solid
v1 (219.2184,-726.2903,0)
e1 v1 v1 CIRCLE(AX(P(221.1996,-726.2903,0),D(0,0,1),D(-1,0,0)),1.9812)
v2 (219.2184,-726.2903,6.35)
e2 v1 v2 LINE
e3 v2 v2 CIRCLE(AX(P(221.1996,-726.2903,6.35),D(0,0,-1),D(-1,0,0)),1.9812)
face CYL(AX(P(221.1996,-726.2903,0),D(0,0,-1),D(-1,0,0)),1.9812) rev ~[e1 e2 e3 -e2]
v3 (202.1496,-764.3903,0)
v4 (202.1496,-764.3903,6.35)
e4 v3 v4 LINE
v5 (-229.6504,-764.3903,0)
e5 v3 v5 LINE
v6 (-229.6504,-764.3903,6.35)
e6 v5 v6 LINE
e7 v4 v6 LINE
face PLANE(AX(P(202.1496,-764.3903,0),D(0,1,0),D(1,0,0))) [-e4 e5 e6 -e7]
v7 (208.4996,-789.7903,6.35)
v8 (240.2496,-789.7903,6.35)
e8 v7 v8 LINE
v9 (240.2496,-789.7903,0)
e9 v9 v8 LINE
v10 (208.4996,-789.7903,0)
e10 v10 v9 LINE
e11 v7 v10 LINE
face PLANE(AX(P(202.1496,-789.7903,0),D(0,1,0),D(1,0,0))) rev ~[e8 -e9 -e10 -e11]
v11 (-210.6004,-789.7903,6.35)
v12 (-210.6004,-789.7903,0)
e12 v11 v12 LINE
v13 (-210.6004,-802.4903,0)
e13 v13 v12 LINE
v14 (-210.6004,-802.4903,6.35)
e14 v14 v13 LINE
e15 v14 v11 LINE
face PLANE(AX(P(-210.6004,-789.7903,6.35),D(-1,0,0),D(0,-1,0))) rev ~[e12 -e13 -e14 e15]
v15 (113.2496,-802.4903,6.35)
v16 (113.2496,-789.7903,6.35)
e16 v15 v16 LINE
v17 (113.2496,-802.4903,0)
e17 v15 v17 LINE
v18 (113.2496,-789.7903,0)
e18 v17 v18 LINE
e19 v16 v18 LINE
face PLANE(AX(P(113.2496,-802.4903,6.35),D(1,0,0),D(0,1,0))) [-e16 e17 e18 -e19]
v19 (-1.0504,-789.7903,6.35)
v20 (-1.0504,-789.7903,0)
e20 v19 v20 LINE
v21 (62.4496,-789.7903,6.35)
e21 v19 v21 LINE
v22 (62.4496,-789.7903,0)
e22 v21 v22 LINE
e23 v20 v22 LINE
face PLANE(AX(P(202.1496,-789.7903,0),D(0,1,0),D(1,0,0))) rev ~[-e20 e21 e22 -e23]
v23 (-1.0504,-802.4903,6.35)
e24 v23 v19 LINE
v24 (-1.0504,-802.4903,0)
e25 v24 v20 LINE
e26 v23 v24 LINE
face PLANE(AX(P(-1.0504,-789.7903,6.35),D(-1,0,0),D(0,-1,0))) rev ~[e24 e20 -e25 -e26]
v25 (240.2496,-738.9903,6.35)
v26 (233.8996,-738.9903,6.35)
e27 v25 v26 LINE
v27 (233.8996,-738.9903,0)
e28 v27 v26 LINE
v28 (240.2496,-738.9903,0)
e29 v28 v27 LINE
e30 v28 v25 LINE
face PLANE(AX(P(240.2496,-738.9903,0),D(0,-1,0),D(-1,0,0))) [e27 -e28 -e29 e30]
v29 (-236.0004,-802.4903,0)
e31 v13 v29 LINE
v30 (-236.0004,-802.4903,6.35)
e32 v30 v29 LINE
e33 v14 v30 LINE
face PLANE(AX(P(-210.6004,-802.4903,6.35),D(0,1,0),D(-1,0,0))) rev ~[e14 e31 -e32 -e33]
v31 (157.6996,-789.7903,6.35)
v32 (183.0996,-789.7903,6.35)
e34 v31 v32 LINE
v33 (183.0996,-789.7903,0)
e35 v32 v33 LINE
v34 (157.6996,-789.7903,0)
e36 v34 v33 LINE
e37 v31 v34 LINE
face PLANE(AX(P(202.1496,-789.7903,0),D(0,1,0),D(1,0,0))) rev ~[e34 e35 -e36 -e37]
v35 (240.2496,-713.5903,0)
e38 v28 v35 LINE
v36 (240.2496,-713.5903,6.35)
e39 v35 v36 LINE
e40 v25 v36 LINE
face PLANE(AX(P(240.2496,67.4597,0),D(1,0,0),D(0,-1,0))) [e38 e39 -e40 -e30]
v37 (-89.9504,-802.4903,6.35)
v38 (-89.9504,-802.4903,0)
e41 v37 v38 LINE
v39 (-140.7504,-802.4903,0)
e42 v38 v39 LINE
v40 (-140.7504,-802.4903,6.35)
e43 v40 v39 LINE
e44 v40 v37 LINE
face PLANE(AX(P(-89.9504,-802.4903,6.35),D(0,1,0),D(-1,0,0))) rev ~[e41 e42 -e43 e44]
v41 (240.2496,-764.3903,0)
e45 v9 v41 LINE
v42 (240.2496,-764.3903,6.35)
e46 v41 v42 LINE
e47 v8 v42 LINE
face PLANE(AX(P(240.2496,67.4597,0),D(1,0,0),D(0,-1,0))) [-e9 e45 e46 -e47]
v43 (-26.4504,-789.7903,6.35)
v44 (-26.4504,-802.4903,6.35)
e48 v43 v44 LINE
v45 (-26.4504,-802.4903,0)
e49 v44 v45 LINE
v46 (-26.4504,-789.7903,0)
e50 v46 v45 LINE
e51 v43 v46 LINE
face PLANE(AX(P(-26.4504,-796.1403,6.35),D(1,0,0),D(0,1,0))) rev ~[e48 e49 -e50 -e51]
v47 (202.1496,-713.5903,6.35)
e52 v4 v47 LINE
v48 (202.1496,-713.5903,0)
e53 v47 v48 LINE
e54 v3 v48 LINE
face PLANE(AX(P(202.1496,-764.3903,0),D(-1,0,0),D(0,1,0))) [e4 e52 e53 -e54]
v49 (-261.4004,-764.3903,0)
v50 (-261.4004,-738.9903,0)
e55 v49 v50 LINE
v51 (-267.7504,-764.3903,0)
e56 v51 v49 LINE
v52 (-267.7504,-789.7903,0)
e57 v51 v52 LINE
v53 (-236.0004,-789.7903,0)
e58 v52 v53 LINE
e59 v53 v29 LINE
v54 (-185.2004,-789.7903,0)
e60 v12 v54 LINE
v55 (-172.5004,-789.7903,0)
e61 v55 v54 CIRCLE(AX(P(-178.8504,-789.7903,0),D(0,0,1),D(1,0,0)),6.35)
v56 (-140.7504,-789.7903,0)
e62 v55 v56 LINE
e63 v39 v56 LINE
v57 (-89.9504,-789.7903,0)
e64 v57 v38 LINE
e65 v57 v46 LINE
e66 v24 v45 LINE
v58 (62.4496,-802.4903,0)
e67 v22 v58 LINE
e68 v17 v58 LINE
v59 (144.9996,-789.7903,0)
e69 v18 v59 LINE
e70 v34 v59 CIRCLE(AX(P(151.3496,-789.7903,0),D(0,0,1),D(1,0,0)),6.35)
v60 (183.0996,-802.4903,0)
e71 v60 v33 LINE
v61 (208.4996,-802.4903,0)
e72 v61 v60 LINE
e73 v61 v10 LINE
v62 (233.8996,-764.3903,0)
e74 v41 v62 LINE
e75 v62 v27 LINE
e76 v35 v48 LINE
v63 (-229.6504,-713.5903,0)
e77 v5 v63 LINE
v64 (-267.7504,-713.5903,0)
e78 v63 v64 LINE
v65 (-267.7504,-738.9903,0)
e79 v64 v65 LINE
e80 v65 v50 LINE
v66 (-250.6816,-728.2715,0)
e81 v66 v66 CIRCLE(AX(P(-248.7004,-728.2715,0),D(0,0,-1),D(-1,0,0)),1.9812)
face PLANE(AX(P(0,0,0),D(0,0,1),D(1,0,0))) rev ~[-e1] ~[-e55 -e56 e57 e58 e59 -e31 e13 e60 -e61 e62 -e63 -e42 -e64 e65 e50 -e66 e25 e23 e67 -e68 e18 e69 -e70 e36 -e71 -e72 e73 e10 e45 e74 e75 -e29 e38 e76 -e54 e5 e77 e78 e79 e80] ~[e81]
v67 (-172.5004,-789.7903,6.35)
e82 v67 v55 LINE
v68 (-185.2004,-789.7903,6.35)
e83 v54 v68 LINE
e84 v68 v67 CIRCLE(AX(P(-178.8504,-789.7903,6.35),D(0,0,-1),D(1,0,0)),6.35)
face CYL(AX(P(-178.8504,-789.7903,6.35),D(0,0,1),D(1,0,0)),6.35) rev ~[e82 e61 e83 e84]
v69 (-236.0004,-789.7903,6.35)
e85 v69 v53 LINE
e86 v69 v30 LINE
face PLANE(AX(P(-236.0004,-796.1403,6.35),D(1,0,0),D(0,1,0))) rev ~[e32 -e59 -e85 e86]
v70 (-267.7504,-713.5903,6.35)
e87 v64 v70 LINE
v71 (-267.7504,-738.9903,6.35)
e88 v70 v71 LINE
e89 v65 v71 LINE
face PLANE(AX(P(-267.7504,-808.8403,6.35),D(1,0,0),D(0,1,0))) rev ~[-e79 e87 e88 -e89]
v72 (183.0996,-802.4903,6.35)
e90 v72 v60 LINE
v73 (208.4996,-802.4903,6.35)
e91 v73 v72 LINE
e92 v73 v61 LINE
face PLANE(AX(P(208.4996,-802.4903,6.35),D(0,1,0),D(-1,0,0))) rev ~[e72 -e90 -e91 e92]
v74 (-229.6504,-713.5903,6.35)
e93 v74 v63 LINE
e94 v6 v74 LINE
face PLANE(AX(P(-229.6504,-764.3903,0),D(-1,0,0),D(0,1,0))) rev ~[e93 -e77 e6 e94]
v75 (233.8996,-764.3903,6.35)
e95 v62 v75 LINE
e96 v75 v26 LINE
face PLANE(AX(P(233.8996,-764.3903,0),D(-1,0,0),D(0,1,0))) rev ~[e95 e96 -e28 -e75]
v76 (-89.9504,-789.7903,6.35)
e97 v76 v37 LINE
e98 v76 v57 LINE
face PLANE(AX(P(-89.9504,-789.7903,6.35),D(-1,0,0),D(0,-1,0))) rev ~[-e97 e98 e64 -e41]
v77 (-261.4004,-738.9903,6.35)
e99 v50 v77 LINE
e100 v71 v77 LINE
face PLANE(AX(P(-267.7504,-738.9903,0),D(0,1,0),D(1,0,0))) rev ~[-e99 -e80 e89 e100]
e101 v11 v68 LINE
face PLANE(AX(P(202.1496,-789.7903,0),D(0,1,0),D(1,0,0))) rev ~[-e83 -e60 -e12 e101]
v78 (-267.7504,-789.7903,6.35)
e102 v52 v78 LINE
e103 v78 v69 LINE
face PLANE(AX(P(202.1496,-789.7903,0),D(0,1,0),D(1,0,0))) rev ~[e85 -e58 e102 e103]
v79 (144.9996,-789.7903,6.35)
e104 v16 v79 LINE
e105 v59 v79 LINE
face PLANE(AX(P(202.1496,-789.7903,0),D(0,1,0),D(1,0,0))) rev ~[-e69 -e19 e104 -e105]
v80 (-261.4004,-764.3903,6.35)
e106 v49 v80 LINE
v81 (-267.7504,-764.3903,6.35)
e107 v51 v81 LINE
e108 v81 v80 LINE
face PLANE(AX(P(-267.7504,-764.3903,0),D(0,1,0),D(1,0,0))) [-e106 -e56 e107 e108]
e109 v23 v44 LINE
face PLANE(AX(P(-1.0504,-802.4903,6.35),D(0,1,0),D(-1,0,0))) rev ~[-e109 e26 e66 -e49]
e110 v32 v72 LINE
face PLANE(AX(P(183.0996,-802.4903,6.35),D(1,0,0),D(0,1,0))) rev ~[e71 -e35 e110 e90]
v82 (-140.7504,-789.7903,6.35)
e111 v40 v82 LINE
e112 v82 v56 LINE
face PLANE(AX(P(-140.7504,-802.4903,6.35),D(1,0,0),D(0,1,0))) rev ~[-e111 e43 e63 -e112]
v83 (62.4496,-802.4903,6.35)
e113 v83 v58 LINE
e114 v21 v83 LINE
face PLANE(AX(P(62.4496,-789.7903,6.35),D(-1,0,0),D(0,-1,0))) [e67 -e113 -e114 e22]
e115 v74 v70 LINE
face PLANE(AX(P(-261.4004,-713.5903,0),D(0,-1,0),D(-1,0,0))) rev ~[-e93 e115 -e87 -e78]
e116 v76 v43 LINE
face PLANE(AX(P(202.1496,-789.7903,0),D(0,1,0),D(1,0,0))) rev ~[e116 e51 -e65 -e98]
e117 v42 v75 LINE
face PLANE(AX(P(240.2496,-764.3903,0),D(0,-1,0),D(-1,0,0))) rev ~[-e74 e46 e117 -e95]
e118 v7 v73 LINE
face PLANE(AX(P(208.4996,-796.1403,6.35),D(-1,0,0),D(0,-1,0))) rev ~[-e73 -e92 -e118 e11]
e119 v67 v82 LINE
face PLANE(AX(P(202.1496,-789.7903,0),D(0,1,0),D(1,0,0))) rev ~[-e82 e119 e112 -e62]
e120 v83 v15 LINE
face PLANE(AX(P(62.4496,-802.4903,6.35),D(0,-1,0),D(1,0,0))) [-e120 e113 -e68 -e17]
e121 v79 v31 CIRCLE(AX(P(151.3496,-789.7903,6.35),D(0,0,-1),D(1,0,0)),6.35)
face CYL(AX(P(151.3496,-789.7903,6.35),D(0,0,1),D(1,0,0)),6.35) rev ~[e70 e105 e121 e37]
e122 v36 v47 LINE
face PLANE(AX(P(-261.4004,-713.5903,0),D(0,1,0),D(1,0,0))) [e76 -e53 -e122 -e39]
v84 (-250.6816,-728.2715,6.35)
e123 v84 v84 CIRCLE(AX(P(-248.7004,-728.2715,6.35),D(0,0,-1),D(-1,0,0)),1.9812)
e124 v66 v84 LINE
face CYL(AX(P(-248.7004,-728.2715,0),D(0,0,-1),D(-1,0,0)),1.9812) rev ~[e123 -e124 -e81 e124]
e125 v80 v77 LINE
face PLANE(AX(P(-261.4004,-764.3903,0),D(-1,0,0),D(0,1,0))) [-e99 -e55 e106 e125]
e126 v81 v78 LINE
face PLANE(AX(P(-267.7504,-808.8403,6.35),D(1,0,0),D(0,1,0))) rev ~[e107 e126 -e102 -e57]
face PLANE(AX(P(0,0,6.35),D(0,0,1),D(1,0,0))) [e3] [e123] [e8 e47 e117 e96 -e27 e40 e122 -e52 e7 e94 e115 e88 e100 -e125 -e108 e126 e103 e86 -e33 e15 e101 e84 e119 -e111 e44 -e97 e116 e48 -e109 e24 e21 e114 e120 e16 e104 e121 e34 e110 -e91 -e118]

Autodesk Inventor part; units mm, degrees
ref_plane "YZ Plane" through (0, 0, 0) normal (1, 0, 0) x (0, 1, 0)
ref_plane "XZ Plane" through (0, 0, 0) normal (0, 1, 0) x (-1, 0, 0)
ref_plane "XY Plane" through (0, 0, 0) normal (0, 0, 1) x (1, 0, 0)
sketch "Sketch1" plane through (0, 0, 0) normal (0, 0, 1) x (1, 0, 0)
  line L0 (-267.7504, 67.4597) -> (240.2496, 67.4597)
  line L1 (240.2496, 67.4597) -> (240.2496, -986.6403)
  line L2 (240.2496, -986.6403) -> (-267.7504, -986.6403)
  line L3 (-267.7504, -986.6403) -> (-267.7504, 67.4597)
  point P0 (0, 0)
  dimension "d0" = 508
  dimension "d1" = 1054.1
extrude "Extrusion1" add sketch "Sketch1" along normal blind 6.35
sketch "Sketch2" plane through (0, 0, 6.35) normal (0, 0, 1) x (1, 0, 0)
  line L0 (240.2496, -986.6403) -> (-267.7504, -986.6403) projected
  line L1 (-267.7504, -986.6403) -> (-13.7504, -986.6403)
  line L2 (-13.7504, -986.6403) -> (-13.7504, -980.2903)
  line L3 (-13.7504, -980.2903) -> (1.4896, -980.2903)
  line L4 (1.4896, -980.2903) -> (-28.9904, -980.2903)
  line L5 (-28.9904, -980.2903) -> (1.4896, -980.2903)
  line L6 (1.4896, -980.2903) -> (1.4896, -973.9403)
  line L7 (1.4896, -973.9403) -> (-28.9904, -973.9403)
  line L8 (-28.9904, -973.9403) -> (-28.9904, -980.2903)
  point P0 (0, 0)
  dimension "d4" = 254
  dimension "d5" = 6.35
  dimension "d6" = 15.24
  dimension "d7" = 30.48
  dimension "d8" = 6.35
extrude "Extrusion2" cut sketch "Sketch2" against normal blind 104.14
sketch "Sketch3" plane through (0, 0, 6.35) normal (0, 0, 1) x (1, 0, 0)
  line L0 (240.2496, -986.6403) -> (-267.7504, -986.6403) projected
  line L1 (1.4896, -980.2903) -> (14.1896, -980.2903)
  line L2 (-28.9904, -980.2903) -> (-41.6904, -980.2903)
  line L3 (-41.6904, -980.2903) -> (-67.0904, -980.2903)
  line L4 (-67.0904, -980.2903) -> (-67.0904, -973.9403)
  line L5 (-67.0904, -973.9403) -> (-41.6904, -973.9403)
  line L6 (-41.6904, -973.9403) -> (-41.6904, -980.2903)
  line L7 (14.1896, -980.2903) -> (39.5896, -980.2903)
  line L8 (39.5896, -980.2903) -> (39.5896, -973.9403)
  line L9 (39.5896, -973.9403) -> (14.1896, -973.9403)
  line L10 (14.1896, -973.9403) -> (14.1896, -980.2903)
  point P0 (0, 0)
  dimension "d11" = 12.7
  dimension "d12" = 12.7
  dimension "d13" = 25.4
  dimension "d14" = 25.4
extrude "Extrusion3" cut sketch "Sketch3" against normal blind 104.14
sketch "Sketch4" plane through (0, 0, 6.35) normal (0, 0, 1) x (1, 0, 0)
  line L0 (-67.0904, -973.9403) -> (-41.6904, -973.9403) projected
  line L1 (14.1896, -973.9403) -> (39.5896, -973.9403) projected
  line L2 (-28.9904, -973.9403) -> (1.4896, -973.9403) projected
  line L3 (240.2496, 67.4597) -> (240.2496, -986.6403) projected
  line L4 (-267.7504, -986.6403) -> (-267.7504, 67.4597) projected
  line L5 (240.2496, -986.6403) -> (-267.7504, -986.6403) projected
  line L6 (-67.0904, -980.2903) -> (-92.4904, -980.2903)
  line L7 (-92.4904, -980.2903) -> (-117.8904, -980.2903)
  line L8 (-117.8904, -980.2903) -> (-117.8904, -986.6403)
  line L9 (39.5896, -980.2903) -> (64.9896, -980.2903)
  line L10 (64.9896, -980.2903) -> (90.3896, -980.2903)
  line L11 (90.3896, -980.2903) -> (90.3896, -986.6403)
  line L12 (-41.6904, -973.9403) -> (-28.9904, -973.9403)
  line L13 (1.4896, -973.9403) -> (14.1896, -973.9403)
  line L14 (-67.0904, -973.9403) -> (-79.7904, -973.9403)
  line L15 (39.5896, -973.9403) -> (52.2896, -973.9403)
  line L16 (-79.7904, -973.9403) -> (-79.7904, -802.4903)
  line L17 (52.2896, -973.9403) -> (52.2896, -802.4903)
  line L18 (52.2896, -802.4903) -> (-79.7904, -802.4903)
  line L19 (-79.7904, -802.4903) -> (-105.1904, -802.4903)
  line L20 (-105.1904, -802.4903) -> (-105.1904, -815.1903)
  line L21 (-105.1904, -815.1903) -> (-92.4904, -815.1903)
  line L22 (-92.4904, -815.1903) -> (-92.4904, -980.2903)
  line L23 (64.9896, -980.2903) -> (64.9896, -815.1903)
  line L24 (64.9896, -815.1903) -> (77.6896, -815.1903)
  line L25 (77.6896, -815.1903) -> (77.6896, -802.4903)
  line L26 (77.6896, -802.4903) -> (52.2896, -802.4903)
  line L27 (-105.1904, -802.4903) -> (-267.7504, -802.4903)
  line L28 (77.6896, -802.4903) -> (240.2496, -802.4903)
  point P0 (0, 0)
  dimension "d17" = 25.4
  dimension "d18" = 25.4
  dimension "d19" = 25.4
  dimension "d20" = 25.4
  dimension "d21" = 171.45
  dimension "d22" = 25.4
  dimension "d23" = 12.7
extrude "Extrusion4" cut sketch "Sketch4" against normal blind 104.14 contours L14 L16 L18 L17 L15 L1 L13 L2 L12 L0 | L20 L21 L22 L7 L8 L5 L4 L27 | L28 L3 L5 L11 L10 L23 L24 L25
sketch "Sketch5" plane through (0, 0, 6.35) normal (0, 0, 1) x (1, 0, 0)
  line L0 (-92.4904, -815.1903) -> (-92.4904, -980.2903) projected
  line L1 (64.9896, -980.2903) -> (64.9896, -815.1903) projected
  line L2 (-92.4904, -973.9403) -> (-92.4904, -967.5903)
  line L3 (-92.4904, -967.5903) -> (-105.1904, -967.5903)
  line L4 (-105.1904, -967.5903) -> (-105.1904, -954.8903)
  line L5 (-105.1904, -954.8903) -> (-92.4904, -954.8903)
  line L6 (64.9896, -954.8903) -> (77.6896, -954.8903)
  line L7 (77.6896, -954.8903) -> (77.6896, -967.5903)
  line L8 (77.6896, -967.5903) -> (64.9896, -967.5903)
  point P0 (0, 0)
  dimension "d26" = 6.35
  dimension "d27" = 12.7
extrude "Extrusion5" add sketch "Sketch5" against normal blind 6.35
sketch "Sketch6" plane through (0, 0, 6.35) normal (0, 0, 1) x (1, 0, 0)
  line L0 (-79.7904, -802.4903) -> (52.2896, -802.4903) projected
  line L1 (-267.7504, -802.4903) -> (-105.1904, -802.4903) projected
  line L2 (77.6896, -802.4903) -> (240.2496, -802.4903) projected
  line L3 (-267.7504, -802.4903) -> (-242.3504, -802.4903)
  line L4 (-242.3504, -802.4903) -> (-216.9504, -802.4903)
  line L5 (-216.9504, -802.4903) -> (-140.7504, -802.4903)
  line L6 (-140.7504, -802.4903) -> (-115.3504, -802.4903)
  line L7 (-115.3504, -802.4903) -> (-39.1504, -802.4903)
  line L8 (-39.1504, -802.4903) -> (-13.7504, -802.4903)
  line L9 (-13.7504, -802.4903) -> (62.4496, -802.4903)
  line L10 (62.4496, -802.4903) -> (87.8496, -802.4903)
  line L11 (87.8496, -802.4903) -> (164.0496, -802.4903)
  line L12 (164.0496, -802.4903) -> (189.4496, -802.4903)
  line L13 (189.4496, -802.4903) -> (265.6496, -802.4903)
  line L14 (265.6496, -802.4903) -> (240.2496, -802.4903)
  line L15 (-242.3504, -802.4903) -> (-216.9504, -802.4903)
  line L16 (-216.9504, -802.4903) -> (-216.9504, -796.1403)
  line L17 (-216.9504, -796.1403) -> (-242.3504, -796.1403)
  line L18 (-242.3504, -796.1403) -> (-242.3504, -802.4903)
  line L19 (-140.7504, -802.4903) -> (-115.3504, -802.4903)
  line L20 (-115.3504, -802.4903) -> (-115.3504, -796.1403)
  line L21 (-115.3504, -796.1403) -> (-140.7504, -796.1403)
  line L22 (-140.7504, -796.1403) -> (-140.7504, -802.4903)
  line L23 (-39.1504, -802.4903) -> (-13.7504, -802.4903)
  line L24 (-13.7504, -802.4903) -> (-13.7504, -796.1403)
  line L25 (-13.7504, -796.1403) -> (-39.1504, -796.1403)
  line L26 (-39.1504, -796.1403) -> (-39.1504, -802.4903)
  line L27 (62.4496, -802.4903) -> (87.8496, -802.4903)
  line L28 (87.8496, -802.4903) -> (87.8496, -796.1403)
  line L29 (87.8496, -796.1403) -> (62.4496, -796.1403)
  line L30 (62.4496, -796.1403) -> (62.4496, -802.4903)
  line L31 (164.0496, -802.4903) -> (189.4496, -802.4903)
  line L32 (189.4496, -802.4903) -> (189.4496, -796.1403)
  line L33 (189.4496, -796.1403) -> (164.0496, -796.1403)
  line L34 (164.0496, -796.1403) -> (164.0496, -802.4903)
  point P0 (0, 0)
  dimension "d30" = 25.4
  dimension "d31" = 25.4
  dimension "d32" = 76.2
  dimension "d33" = 25.4
  dimension "d34" = 76.2
  dimension "d35" = 25.4
  dimension "d36" = 76.2
  dimension "d37" = 25.4
  dimension "d38" = 76.2
  dimension "d39" = 25.4
  dimension "d40" = 76.2
  dimension "d41" = 25.4
  dimension "d42" = 6.35
extrude "Extrusion6" cut sketch "Sketch6" against normal blind 25.4
sketch "Sketch7" plane through (0, 0, 6.35) normal (0, 0, 1) x (1, 0, 0)
  line L0 (-267.7504, -802.4903) -> (240.2496, -802.4903)
  line L1 (240.2496, -802.4903) -> (240.2496, -808.8403)
  line L2 (240.2496, -808.8403) -> (-267.7504, -808.8403)
  line L3 (-267.7504, -808.8403) -> (-267.7504, -802.4903)
  point P0 (0, 0)
extrude "Extrusion7" add sketch "Sketch7" against normal blind 6.35
sketch "Sketch8" plane through (0, 0, 6.35) normal (0, 0, 1) x (1, 0, 0)
  line L0 (-216.9504, -796.1403) -> (-191.5504, -796.1403)
  line L1 (-191.5504, -796.1403) -> (-191.5504, -789.7903)
  line L2 (-191.5504, -789.7903) -> (-216.9504, -789.7903)
  line L3 (-216.9504, -789.7903) -> (-216.9504, -796.1403)
  line L4 (-115.3504, -796.1403) -> (-89.9504, -796.1403)
  line L5 (-89.9504, -796.1403) -> (-89.9504, -789.7903)
  line L6 (-89.9504, -789.7903) -> (-115.3504, -789.7903)
  line L7 (-115.3504, -789.7903) -> (-115.3504, -796.1403)
  line L8 (-13.7504, -796.1403) -> (11.6496, -796.1403)
  line L9 (11.6496, -796.1403) -> (11.6496, -789.7903)
  line L10 (11.6496, -789.7903) -> (-13.7504, -789.7903)
  line L11 (-13.7504, -789.7903) -> (-13.7504, -796.1403)
  line L12 (87.8496, -796.1403) -> (113.2496, -796.1403)
  line L13 (113.2496, -796.1403) -> (113.2496, -789.7903)
  line L14 (113.2496, -789.7903) -> (87.8496, -789.7903)
  line L15 (87.8496, -789.7903) -> (87.8496, -796.1403)
  line L16 (189.4496, -796.1403) -> (214.8496, -796.1403)
  line L17 (214.8496, -796.1403) -> (214.8496, -789.7903)
  line L18 (214.8496, -789.7903) -> (189.4496, -789.7903)
  line L19 (189.4496, -789.7903) -> (189.4496, -796.1403)
  point P0 (0, 0)
  dimension "d47" = 25.4
  dimension "d48" = 6.35
  dimension "d49" = 25.4
  dimension "d50" = 25.4
  dimension "d51" = 25.4
  dimension "d52" = 25.4
extrude "Extrusion8" cut sketch "Sketch8" against normal blind 6.35
sketch "Sketch9" plane through (0, 0, 6.35) normal (0, 0, 1) x (1, 0, 0)
  circle A0 centre (-98.8404, -808.8403) radius 1.9812
  circle A1 centre (-98.8404, -961.2403) radius 1.9812
  circle A2 centre (71.3396, -961.2403) radius 1.9812
  circle A3 centre (71.3396, -808.8403) radius 1.9812
  point P0 (0, 0)
  dimension "d55" = 3.9624
  dimension "d56" = 3.9624
  dimension "d57" = 3.9624
  dimension "d58" = 3.9624
extrude "Extrusion9" cut sketch "Sketch9" against normal blind 6.35
sketch "Sketch10" plane through (0, 0, 0) normal (0, 0, -1) x (-1, 0, 0)
  line L0 (-77.6896, -815.1903) -> (-64.9896, -815.1903) projected
  line L1 (-64.9896, -815.1903) -> (-64.9896, -954.8903) projected
  line L2 (-77.6896, -954.8903) -> (-64.9896, -954.8903) projected
  line L3 (-64.9896, -967.5903) -> (-77.6896, -967.5903) projected
  line L4 (-64.9896, -967.5903) -> (-64.9896, -980.2903) projected
  line L5 (92.4904, -980.2903) -> (92.4904, -967.5903) projected
  line L6 (105.1904, -967.5903) -> (92.4904, -967.5903) projected
  line L7 (92.4904, -954.8903) -> (105.1904, -954.8903) projected
  line L8 (92.4904, -954.8903) -> (92.4904, -815.1903) projected
  line L9 (92.4904, -815.1903) -> (105.1904, -815.1903) projected
  line L10 (-77.6896, -808.8403) -> (-240.2496, -808.8403) projected
  line L11 (-77.6896, -815.1903) -> (-77.6896, -954.8903)
  line L12 (105.1904, -954.8903) -> (105.1904, -815.1903)
  line L13 (105.1904, -967.5903) -> (105.1904, -973.9403)
  line L14 (105.1904, -973.9403) -> (92.4904, -973.9403)
  line L15 (-77.6896, -967.5903) -> (-77.6896, -973.9403)
  line L16 (-77.6896, -973.9403) -> (-64.9896, -973.9403)
  point P0 (0, 0)
extrude "Extrusion10" add sketch "Sketch10" against normal blind 6.35
sketch "Sketch11" plane through (0, 0, 0) normal (0, 0, -1) x (-1, 0, 0)
  line L0 (79.7904, -808.8403) -> (79.7904, -973.9403) projected
  line L1 (79.7904, -973.9403) -> (67.0904, -973.9403) projected
  line L2 (-39.5896, -973.9403) -> (-52.2896, -973.9403) projected
  line L3 (-52.2896, -973.9403) -> (-52.2896, -808.8403) projected
  line L4 (-39.5896, -973.9403) -> (-52.2896, -961.2403)
  line L5 (67.0904, -973.9403) -> (79.7904, -961.2403)
  line L6 (-45.9396, -967.5903) -> (73.4404, -967.5903)
  line L7 (-39.5896, -973.9403) -> (67.0904, -973.9403)
  point P0 (0, 0)
extrude "Extrusion11" add sketch "Sketch11" against normal blind 6.35
sketch "Sketch12" plane through (0, 0, 0) normal (0, 0, -1) x (-1, 0, 0)
  line L0 (267.7504, -808.8403) -> (267.7504, 67.4597) projected
  line L1 (-240.2496, 67.4597) -> (-240.2496, -808.8403) projected
  line L2 (-240.2496, 67.4597) -> (-214.8496, 67.4597)
  line L3 (-214.8496, 67.4597) -> (-214.8496, 42.0597)
  line L4 (-214.8496, 42.0597) -> (-240.2496, 42.0597)
  line L5 (-240.2496, 42.0597) -> (-240.2496, 67.4597)
  line L6 (267.7504, 67.4597) -> (242.3504, 67.4597)
  line L7 (242.3504, 67.4597) -> (242.3504, 42.0597)
  line L8 (242.3504, 42.0597) -> (267.7504, 42.0597)
  line L9 (267.7504, 42.0597) -> (267.7504, 67.4597)
  line L10 (-240.2496, -789.7903) -> (-214.8496, -789.7903)
  line L11 (-214.8496, -789.7903) -> (-214.8496, -764.3903)
  line L12 (-214.8496, -764.3903) -> (-240.2496, -764.3903)
  line L13 (-240.2496, -764.3903) -> (-240.2496, -789.7903)
  line L14 (267.7504, -789.7903) -> (242.3504, -789.7903)
  line L15 (242.3504, -789.7903) -> (242.3504, -764.3903)
  line L16 (242.3504, -764.3903) -> (267.7504, -764.3903)
  line L17 (267.7504, -764.3903) -> (267.7504, -789.7903)
  line L18 (-214.8496, -764.3903) -> (242.3504, -764.3903)
  line L19 (242.3504, -764.3903) -> (242.3504, 42.0597)
  line L20 (242.3504, 42.0597) -> (-214.8496, 42.0597)
  line L21 (-214.8496, 42.0597) -> (-214.8496, -764.3903)
  point P0 (0, 0)
  dimension "d65" = 25.4
  dimension "d66" = 25.4
  dimension "d67" = 25.4
  dimension "d68" = 25.4
  dimension "d69" = 25.4
  dimension "d70" = 25.4
  dimension "d71" = 25.4
  dimension "d72" = 25.4
extrude "Extrusion12" cut sketch "Sketch12" against normal blind 6.35 contours L18 L21 L20 L19
fillet "Fillet1" radius 12.7 1 edges at (-242.3504, 42.0597, 3.175)
fillet "Fillet2" radius 12.7 3 edges at (214.8496, 42.0597, 3.175) (214.8496, -764.3903, 3.175) (-242.3504, -764.3903, 3.175)
sketch "Sketch13" plane through (0, 0, 0) normal (0, 0, -1) x (-1, 0, 0)
  line L0 (-214.8496, -751.6903) -> (-214.8496, 29.3597) projected
  arc A0 (-202.1496, 42.0597) -> (-214.8496, 29.3597) centre (-202.1496, 29.3597) ccw projected
  line L1 (-202.1496, 42.0597) -> (229.6504, 42.0597) projected
  arc A1 (242.3504, 29.3597) -> (229.6504, 42.0597) centre (229.6504, 29.3597) ccw projected
  line L2 (242.3504, 29.3597) -> (242.3504, -751.6903) projected
  arc A2 (229.6504, -764.3903) -> (242.3504, -751.6903) centre (229.6504, -751.6903) ccw projected
  arc A3 (-214.8496, -751.6903) -> (-202.1496, -764.3903) centre (-202.1496, -751.6903) ccw projected
  line L3 (267.7504, -808.8403) -> (267.7504, 67.4597) projected
  line L4 (267.7504, 67.4597) -> (-240.2496, 67.4597) projected
  line L5 (-240.2496, 67.4597) -> (-240.2496, -808.8403) projected
  line L6 (-202.1496, -764.3903) -> (-240.2496, -764.3903)
  line L7 (229.6504, -764.3903) -> (267.7504, -764.3903)
  point P0 (0, 0)
extrude "Extrusion13" cut sketch "Sketch13" against normal blind 25.4
sketch "Sketch14" plane through (0, 0, 0) normal (0, 0, -1) x (-1, 0, 0)
  line L0 (-240.2496, -764.3903) -> (-202.1496, -764.3903)
  line L1 (-202.1496, -764.3903) -> (-202.1496, -688.1903)
  line L2 (-202.1496, -688.1903) -> (-240.2496, -688.1903)
  line L3 (-240.2496, -688.1903) -> (-240.2496, -764.3903)
  line L4 (267.7504, -764.3903) -> (229.6504, -764.3903)
  line L5 (229.6504, -764.3903) -> (229.6504, -688.1903)
  line L6 (229.6504, -688.1903) -> (267.7504, -688.1903)
  line L7 (267.7504, -688.1903) -> (267.7504, -764.3903)
  point P0 (0, 0)
  dimension "d79" = 76.2
  dimension "d80" = 76.2
extrude "Extrusion14" add sketch "Sketch14" against normal blind 6.35
sketch "Sketch15" plane through (0, 0, 0) normal (0, 0, -1) x (-1, 0, 0)
  line L0 (-240.2496, -688.1903) -> (-221.1996, -688.1903)
  line L1 (-221.1996, -688.1903) -> (-221.1996, -707.2403)
  line L2 (-221.1996, -707.2403) -> (-240.2496, -707.2403)
  line L3 (-240.2496, -707.2403) -> (-240.2496, -688.1903)
  line L4 (267.7504, -688.1903) -> (248.7004, -688.1903)
  line L5 (248.7004, -688.1903) -> (248.7004, -707.2403)
  line L6 (248.7004, -707.2403) -> (267.7504, -707.2403)
  line L7 (267.7504, -707.2403) -> (267.7504, -688.1903)
  circle A0 centre (248.7004, -707.2403) radius 1.9812
  circle A1 centre (-221.1996, -707.2403) radius 1.9812
  point P0 (0, 0)
  dimension "d83" = 19.05
  dimension "d84" = 19.05
  dimension "d85" = 19.05
  dimension "d86" = 19.05
  dimension "d87" = 3.9624
  dimension "d88" = 3.9624
extrude "Extrusion15" cut sketch "Sketch15" against normal blind 6.35 contours A1 L2 L1 | L1 L2 A1 | A0 L6 L5 | L5 L6 A0
sketch "Sketch16" plane through (0, 0, 0) normal (0, 0, -1) x (-1, 0, 0)
  line L0 (-240.2496, -688.1903) -> (-240.2496, -808.8403) projected
  line L1 (-240.2496, -688.1903) -> (-233.8996, -688.1903)
  line L2 (-233.8996, -688.1903) -> (-233.8996, -713.5903)
  line L3 (-233.8996, -713.5903) -> (-240.2496, -713.5903)
  line L4 (-240.2496, -713.5903) -> (-240.2496, -688.1903)
  line L5 (-233.8996, -713.5903) -> (-240.2496, -713.5903)
  line L6 (-240.2496, -713.5903) -> (-240.2496, -738.9903)
  line L7 (-240.2496, -738.9903) -> (-233.8996, -738.9903)
  line L8 (-233.8996, -738.9903) -> (-233.8996, -713.5903)
  line L9 (-233.8996, -738.9903) -> (-240.2496, -738.9903)
  line L10 (-240.2496, -738.9903) -> (-240.2496, -764.3903)
  line L11 (-240.2496, -764.3903) -> (-233.8996, -764.3903)
  line L12 (-233.8996, -764.3903) -> (-233.8996, -738.9903)
  line L13 (-233.8996, -764.3903) -> (-240.2496, -764.3903)
  line L14 (-240.2496, -764.3903) -> (-240.2496, -789.7903)
  line L15 (-240.2496, -789.7903) -> (-233.8996, -789.7903)
  line L16 (-233.8996, -789.7903) -> (-233.8996, -764.3903)
  point P0 (0, 0)
  dimension "d91" = 6.35
  dimension "d92" = 25.4
  dimension "d93" = 25.4
  dimension "d94" = 25.4
extrude "Extrusion16" cut sketch "Sketch16" against normal blind 6.35 contours L1 L2 L3 L0 | L7 L12 L11 L0
sketch "Sketch17" plane through (0, 0, 0) normal (0, 0, -1) x (-1, 0, 0)
  line L0 (267.7504, -808.8403) -> (267.7504, -688.1903) projected
  line L1 (267.7504, -688.1903) -> (261.4004, -688.1903)
  line L2 (261.4004, -688.1903) -> (261.4004, -713.5903)
  line L3 (261.4004, -713.5903) -> (267.7504, -713.5903)
  line L4 (267.7504, -713.5903) -> (267.7504, -688.1903)
  line L5 (261.4004, -713.5903) -> (267.7504, -713.5903)
  line L6 (267.7504, -713.5903) -> (267.7504, -738.9903)
  line L7 (267.7504, -738.9903) -> (261.4004, -738.9903)
  line L8 (261.4004, -738.9903) -> (261.4004, -713.5903)
  line L9 (261.4004, -738.9903) -> (267.7504, -738.9903)
  line L10 (267.7504, -738.9903) -> (267.7504, -764.3903)
  line L11 (267.7504, -764.3903) -> (261.4004, -764.3903)
  line L12 (261.4004, -764.3903) -> (261.4004, -738.9903)
  point P0 (0, 0)
  dimension "d97" = 6.35
  dimension "d98" = 25.4
  dimension "d99" = 25.4
  dimension "d100" = 25.4
extrude "Extrusion17" cut sketch "Sketch17" against normal blind 6.35 contours L11 L12 L7 L0 | L3 L2 L1 L0
sketch "Sketch18" plane through (0, 0, 0) normal (0, 0, -1) x (-1, 0, 0)
  circle A0 centre (-221.1996, -707.2403) radius 1.9812 projected
  circle A1 centre (248.7004, -707.2403) radius 1.9812 projected
  line L0 (-233.8996, -688.1903) -> (261.4004, -688.1903)
  line L1 (261.4004, -688.1903) -> (261.4004, -713.5903)
  line L2 (261.4004, -713.5903) -> (-233.8996, -713.5903)
  line L3 (-233.8996, -713.5903) -> (-233.8996, -688.1903)
  point P0 (0, 0)
extrude "Extrusion18" cut sketch "Sketch18" against normal blind 25.4
sketch "Sketch19" plane through (0, 0, 0) normal (0, 0, -1) x (-1, 0, 0)
  line L0 (-202.1496, -713.5903) -> (-221.1996, -713.5903)
  line L1 (-221.1996, -713.5903) -> (-221.1996, -726.2903)
  line L2 (-221.1996, -726.2903) -> (-202.1496, -726.2903)
  line L3 (-202.1496, -726.2903) -> (-202.1496, -713.5903)
  circle A0 centre (-221.1996, -726.2903) radius 1.9812
  circle A1 centre (248.7004, -728.2715) radius 1.9812
  point P0 (0, 0)
  dimension "d105" = 19.05
  dimension "d106" = 12.7
  dimension "d107" = 3.9624
  dimension "d108" = 3.9624
extrude "Extrusion19" cut sketch "Sketch19" against normal blind 25.4 contours A0 L2 L1 | L1 L2 A0 | A1
sketch "Sketch20" plane through (0, 0, 0) normal (0, 0, -1) x (-1, 0, 0)
  line L0 (-214.8496, -789.7903) -> (242.3504, -789.7903)
  line L1 (242.3504, -789.7903) -> (242.3504, -802.4903)
  line L2 (242.3504, -802.4903) -> (-214.8496, -802.4903)
  line L3 (-214.8496, -802.4903) -> (-214.8496, -789.7903)
  point P0 (0, 0)
extrude "Extrusion20" add sketch "Sketch20" against normal blind 6.35
sketch "Sketch21" plane through (0, 0, 0) normal (0, 0, -1) x (-1, 0, 0)
  line L0 (-240.2496, -808.8403) -> (-227.5496, -808.8403)
  line L1 (-227.5496, -808.8403) -> (-227.5496, -796.1403)
  line L2 (-227.5496, -796.1403) -> (-240.2496, -796.1403)
  line L3 (-240.2496, -796.1403) -> (-240.2496, -808.8403)
  line L4 (-227.5496, -796.1403) -> (-202.1496, -796.1403)
  line L5 (-202.1496, -796.1403) -> (-202.1496, -789.7903)
  line L6 (-202.1496, -789.7903) -> (-227.5496, -789.7903)
  line L7 (-227.5496, -789.7903) -> (-227.5496, -796.1403)
  line L8 (-202.1496, -796.1403) -> (-176.7496, -796.1403)
  line L9 (-176.7496, -796.1403) -> (-176.7496, -802.4903)
  line L10 (-176.7496, -802.4903) -> (-202.1496, -802.4903)
  line L11 (-202.1496, -802.4903) -> (-202.1496, -796.1403)
  line L12 (-176.7496, -796.1403) -> (-151.3496, -796.1403)
  line L13 (-151.3496, -796.1403) -> (-151.3496, -802.4903)
  line L14 (-151.3496, -802.4903) -> (-176.7496, -802.4903)
  line L15 (-176.7496, -802.4903) -> (-176.7496, -796.1403)
  line L16 (-151.3496, -796.1403) -> (-125.9496, -796.1403)
  line L17 (-125.9496, -796.1403) -> (-125.9496, -802.4903)
  line L18 (-125.9496, -802.4903) -> (-151.3496, -802.4903)
  line L19 (-151.3496, -802.4903) -> (-151.3496, -796.1403)
  line L20 (-125.9496, -796.1403) -> (-100.5496, -796.1403)
  line L21 (-100.5496, -796.1403) -> (-100.5496, -789.7903)
  line L22 (-100.5496, -789.7903) -> (-125.9496, -789.7903)
  line L23 (-125.9496, -789.7903) -> (-125.9496, -796.1403)
  line L24 (-100.5496, -796.1403) -> (-75.1496, -796.1403)
  line L25 (-75.1496, -796.1403) -> (-75.1496, -802.4903)
  line L26 (-75.1496, -802.4903) -> (-100.5496, -802.4903)
  line L27 (-100.5496, -802.4903) -> (-100.5496, -796.1403)
  line L28 (-75.1496, -802.4903) -> (-49.7496, -802.4903)
  line L29 (-49.7496, -802.4903) -> (-49.7496, -796.1403)
  line L30 (-49.7496, -796.1403) -> (-75.1496, -796.1403)
  line L31 (-75.1496, -796.1403) -> (-75.1496, -802.4903)
  line L32 (-49.7496, -796.1403) -> (-24.3496, -796.1403)
  line L33 (-24.3496, -796.1403) -> (-24.3496, -802.4903)
  line L34 (-24.3496, -802.4903) -> (-49.7496, -802.4903)
  line L35 (-49.7496, -802.4903) -> (-49.7496, -796.1403)
  line L36 (-24.3496, -796.1403) -> (1.0504, -796.1403)
  line L37 (1.0504, -796.1403) -> (1.0504, -789.7903)
  line L38 (1.0504, -789.7903) -> (-24.3496, -789.7903)
  line L39 (-24.3496, -789.7903) -> (-24.3496, -796.1403)
  line L40 (1.0504, -796.1403) -> (26.4504, -796.1403)
  line L41 (26.4504, -796.1403) -> (26.4504, -802.4903)
  line L42 (26.4504, -802.4903) -> (1.0504, -802.4903)
  line L43 (1.0504, -802.4903) -> (1.0504, -796.1403)
  line L44 (26.4504, -796.1403) -> (51.8504, -796.1403)
  line L45 (51.8504, -796.1403) -> (51.8504, -802.4903)
  line L46 (51.8504, -802.4903) -> (26.4504, -802.4903)
  line L47 (26.4504, -802.4903) -> (26.4504, -796.1403)
  line L48 (51.8504, -796.1403) -> (77.2504, -796.1403)
  line L49 (77.2504, -796.1403) -> (77.2504, -802.4903)
  line L50 (77.2504, -802.4903) -> (51.8504, -802.4903)
  line L51 (51.8504, -802.4903) -> (51.8504, -796.1403)
  line L52 (77.2504, -796.1403) -> (102.6504, -796.1403)
  line L53 (102.6504, -796.1403) -> (102.6504, -789.7903)
  line L54 (102.6504, -789.7903) -> (77.2504, -789.7903)
  line L55 (77.2504, -789.7903) -> (77.2504, -796.1403)
  line L56 (102.6504, -796.1403) -> (128.0504, -796.1403)
  line L57 (128.0504, -796.1403) -> (128.0504, -802.4903)
  line L58 (128.0504, -802.4903) -> (102.6504, -802.4903)
  line L59 (102.6504, -802.4903) -> (102.6504, -796.1403)
  line L60 (128.0504, -796.1403) -> (153.4504, -796.1403)
  line L61 (153.4504, -796.1403) -> (153.4504, -802.4903)
  line L62 (153.4504, -802.4903) -> (128.0504, -802.4903)
  line L63 (128.0504, -802.4903) -> (128.0504, -796.1403)
  line L64 (153.4504, -796.1403) -> (178.8504, -796.1403)
  line L65 (178.8504, -796.1403) -> (178.8504, -802.4903)
  line L66 (178.8504, -802.4903) -> (153.4504, -802.4903)
  line L67 (153.4504, -802.4903) -> (153.4504, -796.1403)
  line L68 (178.8504, -796.1403) -> (204.2504, -796.1403)
  line L69 (204.2504, -796.1403) -> (204.2504, -789.7903)
  line L70 (204.2504, -789.7903) -> (178.8504, -789.7903)
  line L71 (178.8504, -789.7903) -> (178.8504, -796.1403)
  line L72 (204.2504, -796.1403) -> (229.6504, -796.1403)
  line L73 (229.6504, -796.1403) -> (229.6504, -802.4903)
  line L74 (229.6504, -802.4903) -> (204.2504, -802.4903)
  line L75 (204.2504, -802.4903) -> (204.2504, -796.1403)
  line L76 (229.6504, -796.1403) -> (255.0504, -796.1403)
  line L77 (255.0504, -796.1403) -> (255.0504, -802.4903)
  line L78 (255.0504, -802.4903) -> (229.6504, -802.4903)
  line L79 (229.6504, -802.4903) -> (229.6504, -796.1403)
  point P0 (0, 0)
  dimension "d113" = 12.7
  dimension "d114" = 12.7
  dimension "d115" = 25.4
  dimension "d116" = 6.35
  dimension "d117" = 25.4
  dimension "d118" = 25.4
  dimension "d119" = 25.4
  dimension "d120" = 25.4
  dimension "d121" = 25.4
  dimension "d122" = 25.4
  dimension "d123" = 25.4
  dimension "d124" = 25.4
  dimension "d125" = 25.4
  dimension "d126" = 25.4
  dimension "d127" = 25.4
  dimension "d128" = 25.4
  dimension "d129" = 25.4
  dimension "d130" = 25.4
  dimension "d131" = 25.4
  dimension "d132" = 25.4
  dimension "d133" = 25.4
  dimension "d134" = 25.4
extrude "Extrusion21" cut sketch "Sketch21" against normal blind 6.35 contours L71 L70 L69 L68 | L55 L54 L53 L52 | L39 L38 L37 L36 | L23 L22 L21 L20 | L7 L6 L5 L4 | L12 L13 L14 L9 | L30 L29 L28 L25 | L44 L45 L46 L41 | L60 L61 L62 L57 | L76 L77 L78 L73
sketch "Sketch22" plane through (0, 0, 0) normal (0, 0, -1) x (-1, 0, 0)
  line L0 (-240.2496, -764.3903) -> (-240.2496, -808.8403) projected
  line L1 (267.7504, -808.8403) -> (267.7504, -764.3903) projected
  line L2 (-227.5496, -789.7903) -> (-240.2496, -789.7903)
  line L3 (-240.2496, -789.7903) -> (-240.2496, -802.4903)
  line L4 (-240.2496, -802.4903) -> (-227.5496, -802.4903)
  line L5 (-227.5496, -802.4903) -> (-227.5496, -789.7903)
  line L6 (255.0504, -802.4903) -> (267.7504, -802.4903)
  line L7 (267.7504, -802.4903) -> (267.7504, -789.7903)
  line L8 (267.7504, -789.7903) -> (255.0504, -789.7903)
  line L9 (255.0504, -789.7903) -> (255.0504, -802.4903)
  point P0 (0, 0)
extrude "Extrusion22" cut sketch "Sketch22" against normal blind 6.35
sketch "Sketch23" plane through (0, 0, 6.35) normal (0, 0, 1) x (1, 0, 0)
  line L0 (-229.6504, -802.4903) -> (-267.7504, -802.4903) projected
  line L1 (-267.7504, -808.8403) -> (-267.7504, -802.4903) projected
  line L2 (-267.7504, -808.8403) -> (-105.1904, -808.8403) projected
  line L3 (-105.1904, -808.8403) -> (-105.1904, -973.9403) projected
  line L4 (-92.4904, -973.9403) -> (-105.1904, -973.9403) projected
  line L5 (-92.4904, -973.9403) -> (-92.4904, -980.2903) projected
  line L6 (-92.4904, -980.2903) -> (-117.8904, -980.2903) projected
  line L7 (-117.8904, -980.2903) -> (-117.8904, -986.6403) projected
  line L8 (90.3896, -986.6403) -> (-117.8904, -986.6403) projected
  line L9 (90.3896, -986.6403) -> (90.3896, -980.2903) projected
  line L10 (90.3896, -980.2903) -> (64.9896, -980.2903) projected
  line L11 (64.9896, -980.2903) -> (64.9896, -973.9403) projected
  line L12 (77.6896, -973.9403) -> (64.9896, -973.9403) projected
  line L13 (77.6896, -973.9403) -> (77.6896, -808.8403) projected
  line L14 (77.6896, -808.8403) -> (240.2496, -808.8403) projected
  line L15 (240.2496, -802.4903) -> (240.2496, -808.8403) projected
  line L16 (240.2496, -802.4903) -> (227.5496, -802.4903) projected
  line L17 (227.5496, -802.4903) -> (227.5496, -796.1403) projected
  line L18 (227.5496, -796.1403) -> (202.1496, -796.1403) projected
  line L19 (202.1496, -796.1403) -> (202.1496, -789.7903) projected
  line L20 (202.1496, -789.7903) -> (240.2496, -789.7903) projected
  line L21 (240.2496, -764.3903) -> (240.2496, -789.7903) projected
  line L22 (240.2496, -764.3903) -> (233.8996, -764.3903) projected
  line L23 (233.8996, -764.3903) -> (233.8996, -738.9903) projected
  line L24 (233.8996, -738.9903) -> (240.2496, -738.9903) projected
  line L25 (240.2496, -713.5903) -> (240.2496, -738.9903) projected
  line L26 (240.2496, -713.5903) -> (202.1496, -713.5903) projected
  line L27 (202.1496, -764.3903) -> (202.1496, -713.5903) projected
  line L28 (202.1496, -764.3903) -> (-229.6504, -764.3903) projected
  line L29 (-229.6504, -713.5903) -> (-229.6504, -764.3903) projected
  line L30 (-229.6504, -713.5903) -> (-267.7504, -713.5903) projected
  line L31 (-267.7504, -738.9903) -> (-267.7504, -713.5903) projected
  line L32 (-267.7504, -738.9903) -> (-261.4004, -738.9903) projected
  line L33 (-261.4004, -738.9903) -> (-261.4004, -764.3903) projected
  line L34 (-261.4004, -764.3903) -> (-267.7504, -764.3903) projected
  line L35 (-267.7504, -789.7903) -> (-267.7504, -764.3903) projected
  line L36 (-267.7504, -789.7903) -> (-255.0504, -789.7903) projected
  line L37 (-255.0504, -789.7903) -> (-255.0504, -796.1403) projected
  line L38 (-255.0504, -796.1403) -> (-229.6504, -796.1403) projected
  line L39 (-229.6504, -796.1403) -> (-229.6504, -802.4903) projected
  line L40 (49.7496, -802.4903) -> (49.7496, -796.1403) projected
  line L41 (49.7496, -796.1403) -> (75.1496, -796.1403) projected
  line L42 (75.1496, -796.1403) -> (75.1496, -802.4903) projected
  line L43 (75.1496, -802.4903) -> (49.7496, -802.4903) projected
  line L44 (-204.2504, -796.1403) -> (-204.2504, -789.7903) projected
  line L45 (-204.2504, -789.7903) -> (-178.8504, -789.7903) projected
  line L46 (-178.8504, -789.7903) -> (-178.8504, -796.1403) projected
  line L47 (-178.8504, -796.1403) -> (-204.2504, -796.1403) projected
  line L48 (-128.0504, -802.4903) -> (-153.4504, -802.4903) projected
  line L49 (-153.4504, -802.4903) -> (-153.4504, -796.1403) projected
  line L50 (-153.4504, -796.1403) -> (-128.0504, -796.1403) projected
  line L51 (-128.0504, -796.1403) -> (-128.0504, -802.4903) projected
  line L52 (-102.6504, -796.1403) -> (-102.6504, -789.7903) projected
  line L53 (-102.6504, -789.7903) -> (-77.2504, -789.7903) projected
  line L54 (-77.2504, -789.7903) -> (-77.2504, -796.1403) projected
  line L55 (-77.2504, -796.1403) -> (-102.6504, -796.1403) projected
  line L56 (-26.4504, -802.4903) -> (-51.8504, -802.4903) projected
  line L57 (-51.8504, -802.4903) -> (-51.8504, -796.1403) projected
  line L58 (-51.8504, -796.1403) -> (-26.4504, -796.1403) projected
  line L59 (-26.4504, -796.1403) -> (-26.4504, -802.4903) projected
  line L60 (-1.0504, -796.1403) -> (-1.0504, -789.7903) projected
  line L61 (-1.0504, -789.7903) -> (24.3496, -789.7903) projected
  line L62 (24.3496, -789.7903) -> (24.3496, -796.1403) projected
  line L63 (24.3496, -796.1403) -> (-1.0504, -796.1403) projected
  line L64 (100.5496, -796.1403) -> (100.5496, -789.7903) projected
  line L65 (100.5496, -789.7903) -> (125.9496, -789.7903) projected
  line L66 (125.9496, -789.7903) -> (125.9496, -796.1403) projected
  line L67 (125.9496, -796.1403) -> (100.5496, -796.1403) projected
  line L68 (176.7496, -802.4903) -> (151.3496, -802.4903) projected
  line L69 (151.3496, -802.4903) -> (151.3496, -796.1403) projected
  line L70 (151.3496, -796.1403) -> (176.7496, -796.1403) projected
  line L71 (176.7496, -796.1403) -> (176.7496, -802.4903) projected
  line L72 (1.4896, -973.9403) -> (-28.9904, -973.9403) projected
  line L73 (1.4896, -973.9403) -> (1.4896, -980.2903) projected
  line L74 (1.4896, -980.2903) -> (-28.9904, -980.2903) projected
  line L75 (-28.9904, -980.2903) -> (-28.9904, -973.9403) projected
  circle A0 centre (71.3396, -808.8403) radius 1.9812 projected
  circle A1 centre (-98.8404, -808.8403) radius 1.9812 projected
  circle A2 centre (71.3396, -961.2403) radius 1.9812 projected
  circle A3 centre (-98.8404, -961.2403) radius 1.9812 projected
  line L76 (-41.6904, -973.9403) -> (-67.0904, -973.9403) projected
  line L77 (-41.6904, -973.9403) -> (-41.6904, -980.2903) projected
  line L78 (-41.6904, -980.2903) -> (-67.0904, -980.2903) projected
  line L79 (-67.0904, -980.2903) -> (-67.0904, -973.9403) projected
  line L80 (39.5896, -973.9403) -> (39.5896, -980.2903) projected
  line L81 (39.5896, -980.2903) -> (14.1896, -980.2903) projected
  line L82 (14.1896, -980.2903) -> (14.1896, -973.9403) projected
  line L83 (39.5896, -973.9403) -> (14.1896, -973.9403) projected
  line L84 (-79.7904, -961.2403) -> (-79.7904, -808.8403) projected
  line L85 (-79.7904, -808.8403) -> (52.2896, -808.8403) projected
  line L86 (52.2896, -808.8403) -> (52.2896, -961.2403) projected
  line L87 (45.9396, -967.5903) -> (52.2896, -961.2403) projected
  line L88 (-73.4404, -967.5903) -> (45.9396, -967.5903) projected
  line L89 (-79.7904, -961.2403) -> (-73.4404, -967.5903) projected
  line L90 (-255.0504, -789.7903) -> (240.2496, -789.7903)
  point P0 (0, 0)
extrude "Extrusion23" cut sketch "Sketch23" against normal blind 25.4 contours L39 L38 L37 L90 L44 L47 L46 L52 L55 L54 L60 L63 L62 L64 L67 L66 L19 L18 L17 L16 L15 L14 L13 L12 L11 L10 L9 L8 L7 L6 L5 L4 L3 L2 L1 L0
sketch "Sketch24" plane through (0, 0, 6.35) normal (0, 0, 1) x (1, 0, 0)
  line L0 (-267.7504, -789.7903) -> (240.2496, -789.7903) projected
  line L1 (-267.7504, -789.7903) -> (-236.0004, -789.7903)
  line L2 (-236.0004, -789.7903) -> (-210.6004, -789.7903)
  line L3 (-210.6004, -789.7903) -> (-210.6004, -796.1403)
  line L4 (-210.6004, -796.1403) -> (-236.0004, -796.1403)
  line L5 (-236.0004, -796.1403) -> (-236.0004, -789.7903)
  line L6 (240.2496, -789.7903) -> (214.8496, -789.7903)
  line L7 (214.8496, -789.7903) -> (208.4996, -789.7903)
  line L8 (208.4996, -789.7903) -> (183.0996, -789.7903)
  line L9 (183.0996, -789.7903) -> (183.0996, -796.1403)
  line L10 (183.0996, -796.1403) -> (208.4996, -796.1403)
  line L11 (208.4996, -796.1403) -> (208.4996, -789.7903)
  line L12 (-210.6004, -789.7903) -> (-128.0504, -789.7903)
  line L13 (-128.0504, -789.7903) -> (-102.6504, -789.7903)
  line L14 (-102.6504, -789.7903) -> (-102.6504, -796.1403)
  line L15 (-102.6504, -796.1403) -> (-128.0504, -796.1403)
  line L16 (-128.0504, -796.1403) -> (-128.0504, -789.7903)
  line L17 (-102.6504, -789.7903) -> (-26.4504, -789.7903)
  line L18 (-26.4504, -789.7903) -> (-1.0504, -789.7903)
  line L19 (-1.0504, -789.7903) -> (-1.0504, -796.1403)
  line L20 (-1.0504, -796.1403) -> (-26.4504, -796.1403)
  line L21 (-26.4504, -796.1403) -> (-26.4504, -789.7903)
  line L22 (-1.0504, -789.7903) -> (24.3496, -789.7903)
  line L23 (24.3496, -789.7903) -> (75.1496, -789.7903)
  line L24 (75.1496, -789.7903) -> (100.5496, -789.7903)
  line L25 (100.5496, -789.7903) -> (100.5496, -796.1403)
  line L26 (100.5496, -796.1403) -> (75.1496, -796.1403)
  line L27 (75.1496, -796.1403) -> (75.1496, -789.7903)
  line L28 (100.5496, -789.7903) -> (183.0996, -789.7903)
  point P0 (0, 0)
  dimension "d141" = 31.75
  dimension "d142" = 25.4
  dimension "d143" = 6.35
  dimension "d144" = 25.4
  dimension "d145" = 6.35
  dimension "d146" = 25.4
  dimension "d147" = 82.55
  dimension "d148" = 25.4
  dimension "d149" = 76.2
  dimension "d150" = 25.4
  dimension "d151" = 25.4
  dimension "d152" = 50.8
  dimension "d153" = 25.4
extrude "Extrusion24" add sketch "Sketch24" against normal blind 6.35
sketch "Sketch25" plane through (0, 0, 6.35) normal (0, 0, 1) x (1, 0, 0)
  line L0 (-236.0004, -796.1403) -> (-210.6004, -796.1403)
  line L1 (-210.6004, -796.1403) -> (-210.6004, -802.4903)
  line L2 (-210.6004, -802.4903) -> (-236.0004, -802.4903)
  line L3 (-236.0004, -802.4903) -> (-236.0004, -796.1403)
  line L4 (-128.0504, -796.1403) -> (-102.6504, -796.1403)
  line L5 (-102.6504, -796.1403) -> (-102.6504, -802.4903)
  line L6 (-102.6504, -802.4903) -> (-128.0504, -802.4903)
  line L7 (-128.0504, -802.4903) -> (-128.0504, -796.1403)
  line L8 (-26.4504, -796.1403) -> (-1.0504, -796.1403)
  line L9 (-1.0504, -796.1403) -> (-1.0504, -802.4903)
  line L10 (-1.0504, -802.4903) -> (-26.4504, -802.4903)
  line L11 (-26.4504, -802.4903) -> (-26.4504, -796.1403)
  line L12 (75.1496, -796.1403) -> (100.5496, -796.1403)
  line L13 (100.5496, -796.1403) -> (100.5496, -802.4903)
  line L14 (100.5496, -802.4903) -> (75.1496, -802.4903)
  line L15 (75.1496, -802.4903) -> (75.1496, -796.1403)
  point P0 (0, 0)
  dimension "d156" = 6.35
extrude "Extrusion25" add sketch "Sketch25" against normal blind 6.35
sketch "Sketch26" plane through (0, 0, 6.35) normal (0, 0, 1) x (1, 0, 0)
  line L0 (183.0996, -796.1403) -> (208.4996, -796.1403)
  line L1 (208.4996, -796.1403) -> (208.4996, -802.4903)
  line L2 (208.4996, -802.4903) -> (183.0996, -802.4903)
  line L3 (183.0996, -802.4903) -> (183.0996, -796.1403)
  point P0 (0, 0)
extrude "Extrusion26" add sketch "Sketch26" against normal blind 6.35
sketch "Sketch27" plane through (0, 0, 6.35) normal (0, 0, 1) x (1, 0, 0)
  line L0 (-210.6004, -789.7903) -> (-128.0504, -789.7903) projected
  line L1 (100.5496, -789.7903) -> (183.0996, -789.7903) projected
  line L2 (-128.0504, -789.7903) -> (-140.7504, -789.7903)
  line L3 (100.5496, -789.7903) -> (113.2496, -789.7903)
  line L4 (-140.7504, -789.7903) -> (-89.9504, -789.7903)
  line L5 (-89.9504, -789.7903) -> (-89.9504, -802.4903)
  line L6 (-89.9504, -802.4903) -> (-140.7504, -802.4903)
  line L7 (-140.7504, -802.4903) -> (-140.7504, -789.7903)
  line L8 (113.2496, -789.7903) -> (62.4496, -789.7903)
  line L9 (62.4496, -789.7903) -> (62.4496, -802.4903)
  line L10 (62.4496, -802.4903) -> (113.2496, -802.4903)
  line L11 (113.2496, -802.4903) -> (113.2496, -789.7903)
  point P0 (0, 0)
  dimension "d161" = 12.7
  dimension "d162" = 12.7
  dimension "d163" = 50.8
  dimension "d164" = 50.8
extrude "Extrusion27" add sketch "Sketch27" against normal blind 6.35
sketch "Sketch28" plane through (0, 0, 6.35) normal (0, 0, 1) x (1, 0, 0)
  line L0 (113.2496, -789.7903) -> (183.0996, -789.7903) projected
  line L1 (-210.6004, -789.7903) -> (-140.7504, -789.7903) projected
  line L2 (-210.6004, -789.7903) -> (-178.8504, -789.7903)
  circle A0 centre (-178.8504, -789.7903) radius 6.35
  line L3 (183.0996, -789.7903) -> (151.3496, -789.7903)
  circle A1 centre (151.3496, -789.7903) radius 6.35
  point P0 (0, 0)
  dimension "d167" = 31.75
  dimension "d168" = 12.7
  dimension "d169" = 31.75
  dimension "d170" = 12.7
extrude "Extrusion28" cut sketch "Sketch28" against normal blind 6.35
properties part number "base front"
